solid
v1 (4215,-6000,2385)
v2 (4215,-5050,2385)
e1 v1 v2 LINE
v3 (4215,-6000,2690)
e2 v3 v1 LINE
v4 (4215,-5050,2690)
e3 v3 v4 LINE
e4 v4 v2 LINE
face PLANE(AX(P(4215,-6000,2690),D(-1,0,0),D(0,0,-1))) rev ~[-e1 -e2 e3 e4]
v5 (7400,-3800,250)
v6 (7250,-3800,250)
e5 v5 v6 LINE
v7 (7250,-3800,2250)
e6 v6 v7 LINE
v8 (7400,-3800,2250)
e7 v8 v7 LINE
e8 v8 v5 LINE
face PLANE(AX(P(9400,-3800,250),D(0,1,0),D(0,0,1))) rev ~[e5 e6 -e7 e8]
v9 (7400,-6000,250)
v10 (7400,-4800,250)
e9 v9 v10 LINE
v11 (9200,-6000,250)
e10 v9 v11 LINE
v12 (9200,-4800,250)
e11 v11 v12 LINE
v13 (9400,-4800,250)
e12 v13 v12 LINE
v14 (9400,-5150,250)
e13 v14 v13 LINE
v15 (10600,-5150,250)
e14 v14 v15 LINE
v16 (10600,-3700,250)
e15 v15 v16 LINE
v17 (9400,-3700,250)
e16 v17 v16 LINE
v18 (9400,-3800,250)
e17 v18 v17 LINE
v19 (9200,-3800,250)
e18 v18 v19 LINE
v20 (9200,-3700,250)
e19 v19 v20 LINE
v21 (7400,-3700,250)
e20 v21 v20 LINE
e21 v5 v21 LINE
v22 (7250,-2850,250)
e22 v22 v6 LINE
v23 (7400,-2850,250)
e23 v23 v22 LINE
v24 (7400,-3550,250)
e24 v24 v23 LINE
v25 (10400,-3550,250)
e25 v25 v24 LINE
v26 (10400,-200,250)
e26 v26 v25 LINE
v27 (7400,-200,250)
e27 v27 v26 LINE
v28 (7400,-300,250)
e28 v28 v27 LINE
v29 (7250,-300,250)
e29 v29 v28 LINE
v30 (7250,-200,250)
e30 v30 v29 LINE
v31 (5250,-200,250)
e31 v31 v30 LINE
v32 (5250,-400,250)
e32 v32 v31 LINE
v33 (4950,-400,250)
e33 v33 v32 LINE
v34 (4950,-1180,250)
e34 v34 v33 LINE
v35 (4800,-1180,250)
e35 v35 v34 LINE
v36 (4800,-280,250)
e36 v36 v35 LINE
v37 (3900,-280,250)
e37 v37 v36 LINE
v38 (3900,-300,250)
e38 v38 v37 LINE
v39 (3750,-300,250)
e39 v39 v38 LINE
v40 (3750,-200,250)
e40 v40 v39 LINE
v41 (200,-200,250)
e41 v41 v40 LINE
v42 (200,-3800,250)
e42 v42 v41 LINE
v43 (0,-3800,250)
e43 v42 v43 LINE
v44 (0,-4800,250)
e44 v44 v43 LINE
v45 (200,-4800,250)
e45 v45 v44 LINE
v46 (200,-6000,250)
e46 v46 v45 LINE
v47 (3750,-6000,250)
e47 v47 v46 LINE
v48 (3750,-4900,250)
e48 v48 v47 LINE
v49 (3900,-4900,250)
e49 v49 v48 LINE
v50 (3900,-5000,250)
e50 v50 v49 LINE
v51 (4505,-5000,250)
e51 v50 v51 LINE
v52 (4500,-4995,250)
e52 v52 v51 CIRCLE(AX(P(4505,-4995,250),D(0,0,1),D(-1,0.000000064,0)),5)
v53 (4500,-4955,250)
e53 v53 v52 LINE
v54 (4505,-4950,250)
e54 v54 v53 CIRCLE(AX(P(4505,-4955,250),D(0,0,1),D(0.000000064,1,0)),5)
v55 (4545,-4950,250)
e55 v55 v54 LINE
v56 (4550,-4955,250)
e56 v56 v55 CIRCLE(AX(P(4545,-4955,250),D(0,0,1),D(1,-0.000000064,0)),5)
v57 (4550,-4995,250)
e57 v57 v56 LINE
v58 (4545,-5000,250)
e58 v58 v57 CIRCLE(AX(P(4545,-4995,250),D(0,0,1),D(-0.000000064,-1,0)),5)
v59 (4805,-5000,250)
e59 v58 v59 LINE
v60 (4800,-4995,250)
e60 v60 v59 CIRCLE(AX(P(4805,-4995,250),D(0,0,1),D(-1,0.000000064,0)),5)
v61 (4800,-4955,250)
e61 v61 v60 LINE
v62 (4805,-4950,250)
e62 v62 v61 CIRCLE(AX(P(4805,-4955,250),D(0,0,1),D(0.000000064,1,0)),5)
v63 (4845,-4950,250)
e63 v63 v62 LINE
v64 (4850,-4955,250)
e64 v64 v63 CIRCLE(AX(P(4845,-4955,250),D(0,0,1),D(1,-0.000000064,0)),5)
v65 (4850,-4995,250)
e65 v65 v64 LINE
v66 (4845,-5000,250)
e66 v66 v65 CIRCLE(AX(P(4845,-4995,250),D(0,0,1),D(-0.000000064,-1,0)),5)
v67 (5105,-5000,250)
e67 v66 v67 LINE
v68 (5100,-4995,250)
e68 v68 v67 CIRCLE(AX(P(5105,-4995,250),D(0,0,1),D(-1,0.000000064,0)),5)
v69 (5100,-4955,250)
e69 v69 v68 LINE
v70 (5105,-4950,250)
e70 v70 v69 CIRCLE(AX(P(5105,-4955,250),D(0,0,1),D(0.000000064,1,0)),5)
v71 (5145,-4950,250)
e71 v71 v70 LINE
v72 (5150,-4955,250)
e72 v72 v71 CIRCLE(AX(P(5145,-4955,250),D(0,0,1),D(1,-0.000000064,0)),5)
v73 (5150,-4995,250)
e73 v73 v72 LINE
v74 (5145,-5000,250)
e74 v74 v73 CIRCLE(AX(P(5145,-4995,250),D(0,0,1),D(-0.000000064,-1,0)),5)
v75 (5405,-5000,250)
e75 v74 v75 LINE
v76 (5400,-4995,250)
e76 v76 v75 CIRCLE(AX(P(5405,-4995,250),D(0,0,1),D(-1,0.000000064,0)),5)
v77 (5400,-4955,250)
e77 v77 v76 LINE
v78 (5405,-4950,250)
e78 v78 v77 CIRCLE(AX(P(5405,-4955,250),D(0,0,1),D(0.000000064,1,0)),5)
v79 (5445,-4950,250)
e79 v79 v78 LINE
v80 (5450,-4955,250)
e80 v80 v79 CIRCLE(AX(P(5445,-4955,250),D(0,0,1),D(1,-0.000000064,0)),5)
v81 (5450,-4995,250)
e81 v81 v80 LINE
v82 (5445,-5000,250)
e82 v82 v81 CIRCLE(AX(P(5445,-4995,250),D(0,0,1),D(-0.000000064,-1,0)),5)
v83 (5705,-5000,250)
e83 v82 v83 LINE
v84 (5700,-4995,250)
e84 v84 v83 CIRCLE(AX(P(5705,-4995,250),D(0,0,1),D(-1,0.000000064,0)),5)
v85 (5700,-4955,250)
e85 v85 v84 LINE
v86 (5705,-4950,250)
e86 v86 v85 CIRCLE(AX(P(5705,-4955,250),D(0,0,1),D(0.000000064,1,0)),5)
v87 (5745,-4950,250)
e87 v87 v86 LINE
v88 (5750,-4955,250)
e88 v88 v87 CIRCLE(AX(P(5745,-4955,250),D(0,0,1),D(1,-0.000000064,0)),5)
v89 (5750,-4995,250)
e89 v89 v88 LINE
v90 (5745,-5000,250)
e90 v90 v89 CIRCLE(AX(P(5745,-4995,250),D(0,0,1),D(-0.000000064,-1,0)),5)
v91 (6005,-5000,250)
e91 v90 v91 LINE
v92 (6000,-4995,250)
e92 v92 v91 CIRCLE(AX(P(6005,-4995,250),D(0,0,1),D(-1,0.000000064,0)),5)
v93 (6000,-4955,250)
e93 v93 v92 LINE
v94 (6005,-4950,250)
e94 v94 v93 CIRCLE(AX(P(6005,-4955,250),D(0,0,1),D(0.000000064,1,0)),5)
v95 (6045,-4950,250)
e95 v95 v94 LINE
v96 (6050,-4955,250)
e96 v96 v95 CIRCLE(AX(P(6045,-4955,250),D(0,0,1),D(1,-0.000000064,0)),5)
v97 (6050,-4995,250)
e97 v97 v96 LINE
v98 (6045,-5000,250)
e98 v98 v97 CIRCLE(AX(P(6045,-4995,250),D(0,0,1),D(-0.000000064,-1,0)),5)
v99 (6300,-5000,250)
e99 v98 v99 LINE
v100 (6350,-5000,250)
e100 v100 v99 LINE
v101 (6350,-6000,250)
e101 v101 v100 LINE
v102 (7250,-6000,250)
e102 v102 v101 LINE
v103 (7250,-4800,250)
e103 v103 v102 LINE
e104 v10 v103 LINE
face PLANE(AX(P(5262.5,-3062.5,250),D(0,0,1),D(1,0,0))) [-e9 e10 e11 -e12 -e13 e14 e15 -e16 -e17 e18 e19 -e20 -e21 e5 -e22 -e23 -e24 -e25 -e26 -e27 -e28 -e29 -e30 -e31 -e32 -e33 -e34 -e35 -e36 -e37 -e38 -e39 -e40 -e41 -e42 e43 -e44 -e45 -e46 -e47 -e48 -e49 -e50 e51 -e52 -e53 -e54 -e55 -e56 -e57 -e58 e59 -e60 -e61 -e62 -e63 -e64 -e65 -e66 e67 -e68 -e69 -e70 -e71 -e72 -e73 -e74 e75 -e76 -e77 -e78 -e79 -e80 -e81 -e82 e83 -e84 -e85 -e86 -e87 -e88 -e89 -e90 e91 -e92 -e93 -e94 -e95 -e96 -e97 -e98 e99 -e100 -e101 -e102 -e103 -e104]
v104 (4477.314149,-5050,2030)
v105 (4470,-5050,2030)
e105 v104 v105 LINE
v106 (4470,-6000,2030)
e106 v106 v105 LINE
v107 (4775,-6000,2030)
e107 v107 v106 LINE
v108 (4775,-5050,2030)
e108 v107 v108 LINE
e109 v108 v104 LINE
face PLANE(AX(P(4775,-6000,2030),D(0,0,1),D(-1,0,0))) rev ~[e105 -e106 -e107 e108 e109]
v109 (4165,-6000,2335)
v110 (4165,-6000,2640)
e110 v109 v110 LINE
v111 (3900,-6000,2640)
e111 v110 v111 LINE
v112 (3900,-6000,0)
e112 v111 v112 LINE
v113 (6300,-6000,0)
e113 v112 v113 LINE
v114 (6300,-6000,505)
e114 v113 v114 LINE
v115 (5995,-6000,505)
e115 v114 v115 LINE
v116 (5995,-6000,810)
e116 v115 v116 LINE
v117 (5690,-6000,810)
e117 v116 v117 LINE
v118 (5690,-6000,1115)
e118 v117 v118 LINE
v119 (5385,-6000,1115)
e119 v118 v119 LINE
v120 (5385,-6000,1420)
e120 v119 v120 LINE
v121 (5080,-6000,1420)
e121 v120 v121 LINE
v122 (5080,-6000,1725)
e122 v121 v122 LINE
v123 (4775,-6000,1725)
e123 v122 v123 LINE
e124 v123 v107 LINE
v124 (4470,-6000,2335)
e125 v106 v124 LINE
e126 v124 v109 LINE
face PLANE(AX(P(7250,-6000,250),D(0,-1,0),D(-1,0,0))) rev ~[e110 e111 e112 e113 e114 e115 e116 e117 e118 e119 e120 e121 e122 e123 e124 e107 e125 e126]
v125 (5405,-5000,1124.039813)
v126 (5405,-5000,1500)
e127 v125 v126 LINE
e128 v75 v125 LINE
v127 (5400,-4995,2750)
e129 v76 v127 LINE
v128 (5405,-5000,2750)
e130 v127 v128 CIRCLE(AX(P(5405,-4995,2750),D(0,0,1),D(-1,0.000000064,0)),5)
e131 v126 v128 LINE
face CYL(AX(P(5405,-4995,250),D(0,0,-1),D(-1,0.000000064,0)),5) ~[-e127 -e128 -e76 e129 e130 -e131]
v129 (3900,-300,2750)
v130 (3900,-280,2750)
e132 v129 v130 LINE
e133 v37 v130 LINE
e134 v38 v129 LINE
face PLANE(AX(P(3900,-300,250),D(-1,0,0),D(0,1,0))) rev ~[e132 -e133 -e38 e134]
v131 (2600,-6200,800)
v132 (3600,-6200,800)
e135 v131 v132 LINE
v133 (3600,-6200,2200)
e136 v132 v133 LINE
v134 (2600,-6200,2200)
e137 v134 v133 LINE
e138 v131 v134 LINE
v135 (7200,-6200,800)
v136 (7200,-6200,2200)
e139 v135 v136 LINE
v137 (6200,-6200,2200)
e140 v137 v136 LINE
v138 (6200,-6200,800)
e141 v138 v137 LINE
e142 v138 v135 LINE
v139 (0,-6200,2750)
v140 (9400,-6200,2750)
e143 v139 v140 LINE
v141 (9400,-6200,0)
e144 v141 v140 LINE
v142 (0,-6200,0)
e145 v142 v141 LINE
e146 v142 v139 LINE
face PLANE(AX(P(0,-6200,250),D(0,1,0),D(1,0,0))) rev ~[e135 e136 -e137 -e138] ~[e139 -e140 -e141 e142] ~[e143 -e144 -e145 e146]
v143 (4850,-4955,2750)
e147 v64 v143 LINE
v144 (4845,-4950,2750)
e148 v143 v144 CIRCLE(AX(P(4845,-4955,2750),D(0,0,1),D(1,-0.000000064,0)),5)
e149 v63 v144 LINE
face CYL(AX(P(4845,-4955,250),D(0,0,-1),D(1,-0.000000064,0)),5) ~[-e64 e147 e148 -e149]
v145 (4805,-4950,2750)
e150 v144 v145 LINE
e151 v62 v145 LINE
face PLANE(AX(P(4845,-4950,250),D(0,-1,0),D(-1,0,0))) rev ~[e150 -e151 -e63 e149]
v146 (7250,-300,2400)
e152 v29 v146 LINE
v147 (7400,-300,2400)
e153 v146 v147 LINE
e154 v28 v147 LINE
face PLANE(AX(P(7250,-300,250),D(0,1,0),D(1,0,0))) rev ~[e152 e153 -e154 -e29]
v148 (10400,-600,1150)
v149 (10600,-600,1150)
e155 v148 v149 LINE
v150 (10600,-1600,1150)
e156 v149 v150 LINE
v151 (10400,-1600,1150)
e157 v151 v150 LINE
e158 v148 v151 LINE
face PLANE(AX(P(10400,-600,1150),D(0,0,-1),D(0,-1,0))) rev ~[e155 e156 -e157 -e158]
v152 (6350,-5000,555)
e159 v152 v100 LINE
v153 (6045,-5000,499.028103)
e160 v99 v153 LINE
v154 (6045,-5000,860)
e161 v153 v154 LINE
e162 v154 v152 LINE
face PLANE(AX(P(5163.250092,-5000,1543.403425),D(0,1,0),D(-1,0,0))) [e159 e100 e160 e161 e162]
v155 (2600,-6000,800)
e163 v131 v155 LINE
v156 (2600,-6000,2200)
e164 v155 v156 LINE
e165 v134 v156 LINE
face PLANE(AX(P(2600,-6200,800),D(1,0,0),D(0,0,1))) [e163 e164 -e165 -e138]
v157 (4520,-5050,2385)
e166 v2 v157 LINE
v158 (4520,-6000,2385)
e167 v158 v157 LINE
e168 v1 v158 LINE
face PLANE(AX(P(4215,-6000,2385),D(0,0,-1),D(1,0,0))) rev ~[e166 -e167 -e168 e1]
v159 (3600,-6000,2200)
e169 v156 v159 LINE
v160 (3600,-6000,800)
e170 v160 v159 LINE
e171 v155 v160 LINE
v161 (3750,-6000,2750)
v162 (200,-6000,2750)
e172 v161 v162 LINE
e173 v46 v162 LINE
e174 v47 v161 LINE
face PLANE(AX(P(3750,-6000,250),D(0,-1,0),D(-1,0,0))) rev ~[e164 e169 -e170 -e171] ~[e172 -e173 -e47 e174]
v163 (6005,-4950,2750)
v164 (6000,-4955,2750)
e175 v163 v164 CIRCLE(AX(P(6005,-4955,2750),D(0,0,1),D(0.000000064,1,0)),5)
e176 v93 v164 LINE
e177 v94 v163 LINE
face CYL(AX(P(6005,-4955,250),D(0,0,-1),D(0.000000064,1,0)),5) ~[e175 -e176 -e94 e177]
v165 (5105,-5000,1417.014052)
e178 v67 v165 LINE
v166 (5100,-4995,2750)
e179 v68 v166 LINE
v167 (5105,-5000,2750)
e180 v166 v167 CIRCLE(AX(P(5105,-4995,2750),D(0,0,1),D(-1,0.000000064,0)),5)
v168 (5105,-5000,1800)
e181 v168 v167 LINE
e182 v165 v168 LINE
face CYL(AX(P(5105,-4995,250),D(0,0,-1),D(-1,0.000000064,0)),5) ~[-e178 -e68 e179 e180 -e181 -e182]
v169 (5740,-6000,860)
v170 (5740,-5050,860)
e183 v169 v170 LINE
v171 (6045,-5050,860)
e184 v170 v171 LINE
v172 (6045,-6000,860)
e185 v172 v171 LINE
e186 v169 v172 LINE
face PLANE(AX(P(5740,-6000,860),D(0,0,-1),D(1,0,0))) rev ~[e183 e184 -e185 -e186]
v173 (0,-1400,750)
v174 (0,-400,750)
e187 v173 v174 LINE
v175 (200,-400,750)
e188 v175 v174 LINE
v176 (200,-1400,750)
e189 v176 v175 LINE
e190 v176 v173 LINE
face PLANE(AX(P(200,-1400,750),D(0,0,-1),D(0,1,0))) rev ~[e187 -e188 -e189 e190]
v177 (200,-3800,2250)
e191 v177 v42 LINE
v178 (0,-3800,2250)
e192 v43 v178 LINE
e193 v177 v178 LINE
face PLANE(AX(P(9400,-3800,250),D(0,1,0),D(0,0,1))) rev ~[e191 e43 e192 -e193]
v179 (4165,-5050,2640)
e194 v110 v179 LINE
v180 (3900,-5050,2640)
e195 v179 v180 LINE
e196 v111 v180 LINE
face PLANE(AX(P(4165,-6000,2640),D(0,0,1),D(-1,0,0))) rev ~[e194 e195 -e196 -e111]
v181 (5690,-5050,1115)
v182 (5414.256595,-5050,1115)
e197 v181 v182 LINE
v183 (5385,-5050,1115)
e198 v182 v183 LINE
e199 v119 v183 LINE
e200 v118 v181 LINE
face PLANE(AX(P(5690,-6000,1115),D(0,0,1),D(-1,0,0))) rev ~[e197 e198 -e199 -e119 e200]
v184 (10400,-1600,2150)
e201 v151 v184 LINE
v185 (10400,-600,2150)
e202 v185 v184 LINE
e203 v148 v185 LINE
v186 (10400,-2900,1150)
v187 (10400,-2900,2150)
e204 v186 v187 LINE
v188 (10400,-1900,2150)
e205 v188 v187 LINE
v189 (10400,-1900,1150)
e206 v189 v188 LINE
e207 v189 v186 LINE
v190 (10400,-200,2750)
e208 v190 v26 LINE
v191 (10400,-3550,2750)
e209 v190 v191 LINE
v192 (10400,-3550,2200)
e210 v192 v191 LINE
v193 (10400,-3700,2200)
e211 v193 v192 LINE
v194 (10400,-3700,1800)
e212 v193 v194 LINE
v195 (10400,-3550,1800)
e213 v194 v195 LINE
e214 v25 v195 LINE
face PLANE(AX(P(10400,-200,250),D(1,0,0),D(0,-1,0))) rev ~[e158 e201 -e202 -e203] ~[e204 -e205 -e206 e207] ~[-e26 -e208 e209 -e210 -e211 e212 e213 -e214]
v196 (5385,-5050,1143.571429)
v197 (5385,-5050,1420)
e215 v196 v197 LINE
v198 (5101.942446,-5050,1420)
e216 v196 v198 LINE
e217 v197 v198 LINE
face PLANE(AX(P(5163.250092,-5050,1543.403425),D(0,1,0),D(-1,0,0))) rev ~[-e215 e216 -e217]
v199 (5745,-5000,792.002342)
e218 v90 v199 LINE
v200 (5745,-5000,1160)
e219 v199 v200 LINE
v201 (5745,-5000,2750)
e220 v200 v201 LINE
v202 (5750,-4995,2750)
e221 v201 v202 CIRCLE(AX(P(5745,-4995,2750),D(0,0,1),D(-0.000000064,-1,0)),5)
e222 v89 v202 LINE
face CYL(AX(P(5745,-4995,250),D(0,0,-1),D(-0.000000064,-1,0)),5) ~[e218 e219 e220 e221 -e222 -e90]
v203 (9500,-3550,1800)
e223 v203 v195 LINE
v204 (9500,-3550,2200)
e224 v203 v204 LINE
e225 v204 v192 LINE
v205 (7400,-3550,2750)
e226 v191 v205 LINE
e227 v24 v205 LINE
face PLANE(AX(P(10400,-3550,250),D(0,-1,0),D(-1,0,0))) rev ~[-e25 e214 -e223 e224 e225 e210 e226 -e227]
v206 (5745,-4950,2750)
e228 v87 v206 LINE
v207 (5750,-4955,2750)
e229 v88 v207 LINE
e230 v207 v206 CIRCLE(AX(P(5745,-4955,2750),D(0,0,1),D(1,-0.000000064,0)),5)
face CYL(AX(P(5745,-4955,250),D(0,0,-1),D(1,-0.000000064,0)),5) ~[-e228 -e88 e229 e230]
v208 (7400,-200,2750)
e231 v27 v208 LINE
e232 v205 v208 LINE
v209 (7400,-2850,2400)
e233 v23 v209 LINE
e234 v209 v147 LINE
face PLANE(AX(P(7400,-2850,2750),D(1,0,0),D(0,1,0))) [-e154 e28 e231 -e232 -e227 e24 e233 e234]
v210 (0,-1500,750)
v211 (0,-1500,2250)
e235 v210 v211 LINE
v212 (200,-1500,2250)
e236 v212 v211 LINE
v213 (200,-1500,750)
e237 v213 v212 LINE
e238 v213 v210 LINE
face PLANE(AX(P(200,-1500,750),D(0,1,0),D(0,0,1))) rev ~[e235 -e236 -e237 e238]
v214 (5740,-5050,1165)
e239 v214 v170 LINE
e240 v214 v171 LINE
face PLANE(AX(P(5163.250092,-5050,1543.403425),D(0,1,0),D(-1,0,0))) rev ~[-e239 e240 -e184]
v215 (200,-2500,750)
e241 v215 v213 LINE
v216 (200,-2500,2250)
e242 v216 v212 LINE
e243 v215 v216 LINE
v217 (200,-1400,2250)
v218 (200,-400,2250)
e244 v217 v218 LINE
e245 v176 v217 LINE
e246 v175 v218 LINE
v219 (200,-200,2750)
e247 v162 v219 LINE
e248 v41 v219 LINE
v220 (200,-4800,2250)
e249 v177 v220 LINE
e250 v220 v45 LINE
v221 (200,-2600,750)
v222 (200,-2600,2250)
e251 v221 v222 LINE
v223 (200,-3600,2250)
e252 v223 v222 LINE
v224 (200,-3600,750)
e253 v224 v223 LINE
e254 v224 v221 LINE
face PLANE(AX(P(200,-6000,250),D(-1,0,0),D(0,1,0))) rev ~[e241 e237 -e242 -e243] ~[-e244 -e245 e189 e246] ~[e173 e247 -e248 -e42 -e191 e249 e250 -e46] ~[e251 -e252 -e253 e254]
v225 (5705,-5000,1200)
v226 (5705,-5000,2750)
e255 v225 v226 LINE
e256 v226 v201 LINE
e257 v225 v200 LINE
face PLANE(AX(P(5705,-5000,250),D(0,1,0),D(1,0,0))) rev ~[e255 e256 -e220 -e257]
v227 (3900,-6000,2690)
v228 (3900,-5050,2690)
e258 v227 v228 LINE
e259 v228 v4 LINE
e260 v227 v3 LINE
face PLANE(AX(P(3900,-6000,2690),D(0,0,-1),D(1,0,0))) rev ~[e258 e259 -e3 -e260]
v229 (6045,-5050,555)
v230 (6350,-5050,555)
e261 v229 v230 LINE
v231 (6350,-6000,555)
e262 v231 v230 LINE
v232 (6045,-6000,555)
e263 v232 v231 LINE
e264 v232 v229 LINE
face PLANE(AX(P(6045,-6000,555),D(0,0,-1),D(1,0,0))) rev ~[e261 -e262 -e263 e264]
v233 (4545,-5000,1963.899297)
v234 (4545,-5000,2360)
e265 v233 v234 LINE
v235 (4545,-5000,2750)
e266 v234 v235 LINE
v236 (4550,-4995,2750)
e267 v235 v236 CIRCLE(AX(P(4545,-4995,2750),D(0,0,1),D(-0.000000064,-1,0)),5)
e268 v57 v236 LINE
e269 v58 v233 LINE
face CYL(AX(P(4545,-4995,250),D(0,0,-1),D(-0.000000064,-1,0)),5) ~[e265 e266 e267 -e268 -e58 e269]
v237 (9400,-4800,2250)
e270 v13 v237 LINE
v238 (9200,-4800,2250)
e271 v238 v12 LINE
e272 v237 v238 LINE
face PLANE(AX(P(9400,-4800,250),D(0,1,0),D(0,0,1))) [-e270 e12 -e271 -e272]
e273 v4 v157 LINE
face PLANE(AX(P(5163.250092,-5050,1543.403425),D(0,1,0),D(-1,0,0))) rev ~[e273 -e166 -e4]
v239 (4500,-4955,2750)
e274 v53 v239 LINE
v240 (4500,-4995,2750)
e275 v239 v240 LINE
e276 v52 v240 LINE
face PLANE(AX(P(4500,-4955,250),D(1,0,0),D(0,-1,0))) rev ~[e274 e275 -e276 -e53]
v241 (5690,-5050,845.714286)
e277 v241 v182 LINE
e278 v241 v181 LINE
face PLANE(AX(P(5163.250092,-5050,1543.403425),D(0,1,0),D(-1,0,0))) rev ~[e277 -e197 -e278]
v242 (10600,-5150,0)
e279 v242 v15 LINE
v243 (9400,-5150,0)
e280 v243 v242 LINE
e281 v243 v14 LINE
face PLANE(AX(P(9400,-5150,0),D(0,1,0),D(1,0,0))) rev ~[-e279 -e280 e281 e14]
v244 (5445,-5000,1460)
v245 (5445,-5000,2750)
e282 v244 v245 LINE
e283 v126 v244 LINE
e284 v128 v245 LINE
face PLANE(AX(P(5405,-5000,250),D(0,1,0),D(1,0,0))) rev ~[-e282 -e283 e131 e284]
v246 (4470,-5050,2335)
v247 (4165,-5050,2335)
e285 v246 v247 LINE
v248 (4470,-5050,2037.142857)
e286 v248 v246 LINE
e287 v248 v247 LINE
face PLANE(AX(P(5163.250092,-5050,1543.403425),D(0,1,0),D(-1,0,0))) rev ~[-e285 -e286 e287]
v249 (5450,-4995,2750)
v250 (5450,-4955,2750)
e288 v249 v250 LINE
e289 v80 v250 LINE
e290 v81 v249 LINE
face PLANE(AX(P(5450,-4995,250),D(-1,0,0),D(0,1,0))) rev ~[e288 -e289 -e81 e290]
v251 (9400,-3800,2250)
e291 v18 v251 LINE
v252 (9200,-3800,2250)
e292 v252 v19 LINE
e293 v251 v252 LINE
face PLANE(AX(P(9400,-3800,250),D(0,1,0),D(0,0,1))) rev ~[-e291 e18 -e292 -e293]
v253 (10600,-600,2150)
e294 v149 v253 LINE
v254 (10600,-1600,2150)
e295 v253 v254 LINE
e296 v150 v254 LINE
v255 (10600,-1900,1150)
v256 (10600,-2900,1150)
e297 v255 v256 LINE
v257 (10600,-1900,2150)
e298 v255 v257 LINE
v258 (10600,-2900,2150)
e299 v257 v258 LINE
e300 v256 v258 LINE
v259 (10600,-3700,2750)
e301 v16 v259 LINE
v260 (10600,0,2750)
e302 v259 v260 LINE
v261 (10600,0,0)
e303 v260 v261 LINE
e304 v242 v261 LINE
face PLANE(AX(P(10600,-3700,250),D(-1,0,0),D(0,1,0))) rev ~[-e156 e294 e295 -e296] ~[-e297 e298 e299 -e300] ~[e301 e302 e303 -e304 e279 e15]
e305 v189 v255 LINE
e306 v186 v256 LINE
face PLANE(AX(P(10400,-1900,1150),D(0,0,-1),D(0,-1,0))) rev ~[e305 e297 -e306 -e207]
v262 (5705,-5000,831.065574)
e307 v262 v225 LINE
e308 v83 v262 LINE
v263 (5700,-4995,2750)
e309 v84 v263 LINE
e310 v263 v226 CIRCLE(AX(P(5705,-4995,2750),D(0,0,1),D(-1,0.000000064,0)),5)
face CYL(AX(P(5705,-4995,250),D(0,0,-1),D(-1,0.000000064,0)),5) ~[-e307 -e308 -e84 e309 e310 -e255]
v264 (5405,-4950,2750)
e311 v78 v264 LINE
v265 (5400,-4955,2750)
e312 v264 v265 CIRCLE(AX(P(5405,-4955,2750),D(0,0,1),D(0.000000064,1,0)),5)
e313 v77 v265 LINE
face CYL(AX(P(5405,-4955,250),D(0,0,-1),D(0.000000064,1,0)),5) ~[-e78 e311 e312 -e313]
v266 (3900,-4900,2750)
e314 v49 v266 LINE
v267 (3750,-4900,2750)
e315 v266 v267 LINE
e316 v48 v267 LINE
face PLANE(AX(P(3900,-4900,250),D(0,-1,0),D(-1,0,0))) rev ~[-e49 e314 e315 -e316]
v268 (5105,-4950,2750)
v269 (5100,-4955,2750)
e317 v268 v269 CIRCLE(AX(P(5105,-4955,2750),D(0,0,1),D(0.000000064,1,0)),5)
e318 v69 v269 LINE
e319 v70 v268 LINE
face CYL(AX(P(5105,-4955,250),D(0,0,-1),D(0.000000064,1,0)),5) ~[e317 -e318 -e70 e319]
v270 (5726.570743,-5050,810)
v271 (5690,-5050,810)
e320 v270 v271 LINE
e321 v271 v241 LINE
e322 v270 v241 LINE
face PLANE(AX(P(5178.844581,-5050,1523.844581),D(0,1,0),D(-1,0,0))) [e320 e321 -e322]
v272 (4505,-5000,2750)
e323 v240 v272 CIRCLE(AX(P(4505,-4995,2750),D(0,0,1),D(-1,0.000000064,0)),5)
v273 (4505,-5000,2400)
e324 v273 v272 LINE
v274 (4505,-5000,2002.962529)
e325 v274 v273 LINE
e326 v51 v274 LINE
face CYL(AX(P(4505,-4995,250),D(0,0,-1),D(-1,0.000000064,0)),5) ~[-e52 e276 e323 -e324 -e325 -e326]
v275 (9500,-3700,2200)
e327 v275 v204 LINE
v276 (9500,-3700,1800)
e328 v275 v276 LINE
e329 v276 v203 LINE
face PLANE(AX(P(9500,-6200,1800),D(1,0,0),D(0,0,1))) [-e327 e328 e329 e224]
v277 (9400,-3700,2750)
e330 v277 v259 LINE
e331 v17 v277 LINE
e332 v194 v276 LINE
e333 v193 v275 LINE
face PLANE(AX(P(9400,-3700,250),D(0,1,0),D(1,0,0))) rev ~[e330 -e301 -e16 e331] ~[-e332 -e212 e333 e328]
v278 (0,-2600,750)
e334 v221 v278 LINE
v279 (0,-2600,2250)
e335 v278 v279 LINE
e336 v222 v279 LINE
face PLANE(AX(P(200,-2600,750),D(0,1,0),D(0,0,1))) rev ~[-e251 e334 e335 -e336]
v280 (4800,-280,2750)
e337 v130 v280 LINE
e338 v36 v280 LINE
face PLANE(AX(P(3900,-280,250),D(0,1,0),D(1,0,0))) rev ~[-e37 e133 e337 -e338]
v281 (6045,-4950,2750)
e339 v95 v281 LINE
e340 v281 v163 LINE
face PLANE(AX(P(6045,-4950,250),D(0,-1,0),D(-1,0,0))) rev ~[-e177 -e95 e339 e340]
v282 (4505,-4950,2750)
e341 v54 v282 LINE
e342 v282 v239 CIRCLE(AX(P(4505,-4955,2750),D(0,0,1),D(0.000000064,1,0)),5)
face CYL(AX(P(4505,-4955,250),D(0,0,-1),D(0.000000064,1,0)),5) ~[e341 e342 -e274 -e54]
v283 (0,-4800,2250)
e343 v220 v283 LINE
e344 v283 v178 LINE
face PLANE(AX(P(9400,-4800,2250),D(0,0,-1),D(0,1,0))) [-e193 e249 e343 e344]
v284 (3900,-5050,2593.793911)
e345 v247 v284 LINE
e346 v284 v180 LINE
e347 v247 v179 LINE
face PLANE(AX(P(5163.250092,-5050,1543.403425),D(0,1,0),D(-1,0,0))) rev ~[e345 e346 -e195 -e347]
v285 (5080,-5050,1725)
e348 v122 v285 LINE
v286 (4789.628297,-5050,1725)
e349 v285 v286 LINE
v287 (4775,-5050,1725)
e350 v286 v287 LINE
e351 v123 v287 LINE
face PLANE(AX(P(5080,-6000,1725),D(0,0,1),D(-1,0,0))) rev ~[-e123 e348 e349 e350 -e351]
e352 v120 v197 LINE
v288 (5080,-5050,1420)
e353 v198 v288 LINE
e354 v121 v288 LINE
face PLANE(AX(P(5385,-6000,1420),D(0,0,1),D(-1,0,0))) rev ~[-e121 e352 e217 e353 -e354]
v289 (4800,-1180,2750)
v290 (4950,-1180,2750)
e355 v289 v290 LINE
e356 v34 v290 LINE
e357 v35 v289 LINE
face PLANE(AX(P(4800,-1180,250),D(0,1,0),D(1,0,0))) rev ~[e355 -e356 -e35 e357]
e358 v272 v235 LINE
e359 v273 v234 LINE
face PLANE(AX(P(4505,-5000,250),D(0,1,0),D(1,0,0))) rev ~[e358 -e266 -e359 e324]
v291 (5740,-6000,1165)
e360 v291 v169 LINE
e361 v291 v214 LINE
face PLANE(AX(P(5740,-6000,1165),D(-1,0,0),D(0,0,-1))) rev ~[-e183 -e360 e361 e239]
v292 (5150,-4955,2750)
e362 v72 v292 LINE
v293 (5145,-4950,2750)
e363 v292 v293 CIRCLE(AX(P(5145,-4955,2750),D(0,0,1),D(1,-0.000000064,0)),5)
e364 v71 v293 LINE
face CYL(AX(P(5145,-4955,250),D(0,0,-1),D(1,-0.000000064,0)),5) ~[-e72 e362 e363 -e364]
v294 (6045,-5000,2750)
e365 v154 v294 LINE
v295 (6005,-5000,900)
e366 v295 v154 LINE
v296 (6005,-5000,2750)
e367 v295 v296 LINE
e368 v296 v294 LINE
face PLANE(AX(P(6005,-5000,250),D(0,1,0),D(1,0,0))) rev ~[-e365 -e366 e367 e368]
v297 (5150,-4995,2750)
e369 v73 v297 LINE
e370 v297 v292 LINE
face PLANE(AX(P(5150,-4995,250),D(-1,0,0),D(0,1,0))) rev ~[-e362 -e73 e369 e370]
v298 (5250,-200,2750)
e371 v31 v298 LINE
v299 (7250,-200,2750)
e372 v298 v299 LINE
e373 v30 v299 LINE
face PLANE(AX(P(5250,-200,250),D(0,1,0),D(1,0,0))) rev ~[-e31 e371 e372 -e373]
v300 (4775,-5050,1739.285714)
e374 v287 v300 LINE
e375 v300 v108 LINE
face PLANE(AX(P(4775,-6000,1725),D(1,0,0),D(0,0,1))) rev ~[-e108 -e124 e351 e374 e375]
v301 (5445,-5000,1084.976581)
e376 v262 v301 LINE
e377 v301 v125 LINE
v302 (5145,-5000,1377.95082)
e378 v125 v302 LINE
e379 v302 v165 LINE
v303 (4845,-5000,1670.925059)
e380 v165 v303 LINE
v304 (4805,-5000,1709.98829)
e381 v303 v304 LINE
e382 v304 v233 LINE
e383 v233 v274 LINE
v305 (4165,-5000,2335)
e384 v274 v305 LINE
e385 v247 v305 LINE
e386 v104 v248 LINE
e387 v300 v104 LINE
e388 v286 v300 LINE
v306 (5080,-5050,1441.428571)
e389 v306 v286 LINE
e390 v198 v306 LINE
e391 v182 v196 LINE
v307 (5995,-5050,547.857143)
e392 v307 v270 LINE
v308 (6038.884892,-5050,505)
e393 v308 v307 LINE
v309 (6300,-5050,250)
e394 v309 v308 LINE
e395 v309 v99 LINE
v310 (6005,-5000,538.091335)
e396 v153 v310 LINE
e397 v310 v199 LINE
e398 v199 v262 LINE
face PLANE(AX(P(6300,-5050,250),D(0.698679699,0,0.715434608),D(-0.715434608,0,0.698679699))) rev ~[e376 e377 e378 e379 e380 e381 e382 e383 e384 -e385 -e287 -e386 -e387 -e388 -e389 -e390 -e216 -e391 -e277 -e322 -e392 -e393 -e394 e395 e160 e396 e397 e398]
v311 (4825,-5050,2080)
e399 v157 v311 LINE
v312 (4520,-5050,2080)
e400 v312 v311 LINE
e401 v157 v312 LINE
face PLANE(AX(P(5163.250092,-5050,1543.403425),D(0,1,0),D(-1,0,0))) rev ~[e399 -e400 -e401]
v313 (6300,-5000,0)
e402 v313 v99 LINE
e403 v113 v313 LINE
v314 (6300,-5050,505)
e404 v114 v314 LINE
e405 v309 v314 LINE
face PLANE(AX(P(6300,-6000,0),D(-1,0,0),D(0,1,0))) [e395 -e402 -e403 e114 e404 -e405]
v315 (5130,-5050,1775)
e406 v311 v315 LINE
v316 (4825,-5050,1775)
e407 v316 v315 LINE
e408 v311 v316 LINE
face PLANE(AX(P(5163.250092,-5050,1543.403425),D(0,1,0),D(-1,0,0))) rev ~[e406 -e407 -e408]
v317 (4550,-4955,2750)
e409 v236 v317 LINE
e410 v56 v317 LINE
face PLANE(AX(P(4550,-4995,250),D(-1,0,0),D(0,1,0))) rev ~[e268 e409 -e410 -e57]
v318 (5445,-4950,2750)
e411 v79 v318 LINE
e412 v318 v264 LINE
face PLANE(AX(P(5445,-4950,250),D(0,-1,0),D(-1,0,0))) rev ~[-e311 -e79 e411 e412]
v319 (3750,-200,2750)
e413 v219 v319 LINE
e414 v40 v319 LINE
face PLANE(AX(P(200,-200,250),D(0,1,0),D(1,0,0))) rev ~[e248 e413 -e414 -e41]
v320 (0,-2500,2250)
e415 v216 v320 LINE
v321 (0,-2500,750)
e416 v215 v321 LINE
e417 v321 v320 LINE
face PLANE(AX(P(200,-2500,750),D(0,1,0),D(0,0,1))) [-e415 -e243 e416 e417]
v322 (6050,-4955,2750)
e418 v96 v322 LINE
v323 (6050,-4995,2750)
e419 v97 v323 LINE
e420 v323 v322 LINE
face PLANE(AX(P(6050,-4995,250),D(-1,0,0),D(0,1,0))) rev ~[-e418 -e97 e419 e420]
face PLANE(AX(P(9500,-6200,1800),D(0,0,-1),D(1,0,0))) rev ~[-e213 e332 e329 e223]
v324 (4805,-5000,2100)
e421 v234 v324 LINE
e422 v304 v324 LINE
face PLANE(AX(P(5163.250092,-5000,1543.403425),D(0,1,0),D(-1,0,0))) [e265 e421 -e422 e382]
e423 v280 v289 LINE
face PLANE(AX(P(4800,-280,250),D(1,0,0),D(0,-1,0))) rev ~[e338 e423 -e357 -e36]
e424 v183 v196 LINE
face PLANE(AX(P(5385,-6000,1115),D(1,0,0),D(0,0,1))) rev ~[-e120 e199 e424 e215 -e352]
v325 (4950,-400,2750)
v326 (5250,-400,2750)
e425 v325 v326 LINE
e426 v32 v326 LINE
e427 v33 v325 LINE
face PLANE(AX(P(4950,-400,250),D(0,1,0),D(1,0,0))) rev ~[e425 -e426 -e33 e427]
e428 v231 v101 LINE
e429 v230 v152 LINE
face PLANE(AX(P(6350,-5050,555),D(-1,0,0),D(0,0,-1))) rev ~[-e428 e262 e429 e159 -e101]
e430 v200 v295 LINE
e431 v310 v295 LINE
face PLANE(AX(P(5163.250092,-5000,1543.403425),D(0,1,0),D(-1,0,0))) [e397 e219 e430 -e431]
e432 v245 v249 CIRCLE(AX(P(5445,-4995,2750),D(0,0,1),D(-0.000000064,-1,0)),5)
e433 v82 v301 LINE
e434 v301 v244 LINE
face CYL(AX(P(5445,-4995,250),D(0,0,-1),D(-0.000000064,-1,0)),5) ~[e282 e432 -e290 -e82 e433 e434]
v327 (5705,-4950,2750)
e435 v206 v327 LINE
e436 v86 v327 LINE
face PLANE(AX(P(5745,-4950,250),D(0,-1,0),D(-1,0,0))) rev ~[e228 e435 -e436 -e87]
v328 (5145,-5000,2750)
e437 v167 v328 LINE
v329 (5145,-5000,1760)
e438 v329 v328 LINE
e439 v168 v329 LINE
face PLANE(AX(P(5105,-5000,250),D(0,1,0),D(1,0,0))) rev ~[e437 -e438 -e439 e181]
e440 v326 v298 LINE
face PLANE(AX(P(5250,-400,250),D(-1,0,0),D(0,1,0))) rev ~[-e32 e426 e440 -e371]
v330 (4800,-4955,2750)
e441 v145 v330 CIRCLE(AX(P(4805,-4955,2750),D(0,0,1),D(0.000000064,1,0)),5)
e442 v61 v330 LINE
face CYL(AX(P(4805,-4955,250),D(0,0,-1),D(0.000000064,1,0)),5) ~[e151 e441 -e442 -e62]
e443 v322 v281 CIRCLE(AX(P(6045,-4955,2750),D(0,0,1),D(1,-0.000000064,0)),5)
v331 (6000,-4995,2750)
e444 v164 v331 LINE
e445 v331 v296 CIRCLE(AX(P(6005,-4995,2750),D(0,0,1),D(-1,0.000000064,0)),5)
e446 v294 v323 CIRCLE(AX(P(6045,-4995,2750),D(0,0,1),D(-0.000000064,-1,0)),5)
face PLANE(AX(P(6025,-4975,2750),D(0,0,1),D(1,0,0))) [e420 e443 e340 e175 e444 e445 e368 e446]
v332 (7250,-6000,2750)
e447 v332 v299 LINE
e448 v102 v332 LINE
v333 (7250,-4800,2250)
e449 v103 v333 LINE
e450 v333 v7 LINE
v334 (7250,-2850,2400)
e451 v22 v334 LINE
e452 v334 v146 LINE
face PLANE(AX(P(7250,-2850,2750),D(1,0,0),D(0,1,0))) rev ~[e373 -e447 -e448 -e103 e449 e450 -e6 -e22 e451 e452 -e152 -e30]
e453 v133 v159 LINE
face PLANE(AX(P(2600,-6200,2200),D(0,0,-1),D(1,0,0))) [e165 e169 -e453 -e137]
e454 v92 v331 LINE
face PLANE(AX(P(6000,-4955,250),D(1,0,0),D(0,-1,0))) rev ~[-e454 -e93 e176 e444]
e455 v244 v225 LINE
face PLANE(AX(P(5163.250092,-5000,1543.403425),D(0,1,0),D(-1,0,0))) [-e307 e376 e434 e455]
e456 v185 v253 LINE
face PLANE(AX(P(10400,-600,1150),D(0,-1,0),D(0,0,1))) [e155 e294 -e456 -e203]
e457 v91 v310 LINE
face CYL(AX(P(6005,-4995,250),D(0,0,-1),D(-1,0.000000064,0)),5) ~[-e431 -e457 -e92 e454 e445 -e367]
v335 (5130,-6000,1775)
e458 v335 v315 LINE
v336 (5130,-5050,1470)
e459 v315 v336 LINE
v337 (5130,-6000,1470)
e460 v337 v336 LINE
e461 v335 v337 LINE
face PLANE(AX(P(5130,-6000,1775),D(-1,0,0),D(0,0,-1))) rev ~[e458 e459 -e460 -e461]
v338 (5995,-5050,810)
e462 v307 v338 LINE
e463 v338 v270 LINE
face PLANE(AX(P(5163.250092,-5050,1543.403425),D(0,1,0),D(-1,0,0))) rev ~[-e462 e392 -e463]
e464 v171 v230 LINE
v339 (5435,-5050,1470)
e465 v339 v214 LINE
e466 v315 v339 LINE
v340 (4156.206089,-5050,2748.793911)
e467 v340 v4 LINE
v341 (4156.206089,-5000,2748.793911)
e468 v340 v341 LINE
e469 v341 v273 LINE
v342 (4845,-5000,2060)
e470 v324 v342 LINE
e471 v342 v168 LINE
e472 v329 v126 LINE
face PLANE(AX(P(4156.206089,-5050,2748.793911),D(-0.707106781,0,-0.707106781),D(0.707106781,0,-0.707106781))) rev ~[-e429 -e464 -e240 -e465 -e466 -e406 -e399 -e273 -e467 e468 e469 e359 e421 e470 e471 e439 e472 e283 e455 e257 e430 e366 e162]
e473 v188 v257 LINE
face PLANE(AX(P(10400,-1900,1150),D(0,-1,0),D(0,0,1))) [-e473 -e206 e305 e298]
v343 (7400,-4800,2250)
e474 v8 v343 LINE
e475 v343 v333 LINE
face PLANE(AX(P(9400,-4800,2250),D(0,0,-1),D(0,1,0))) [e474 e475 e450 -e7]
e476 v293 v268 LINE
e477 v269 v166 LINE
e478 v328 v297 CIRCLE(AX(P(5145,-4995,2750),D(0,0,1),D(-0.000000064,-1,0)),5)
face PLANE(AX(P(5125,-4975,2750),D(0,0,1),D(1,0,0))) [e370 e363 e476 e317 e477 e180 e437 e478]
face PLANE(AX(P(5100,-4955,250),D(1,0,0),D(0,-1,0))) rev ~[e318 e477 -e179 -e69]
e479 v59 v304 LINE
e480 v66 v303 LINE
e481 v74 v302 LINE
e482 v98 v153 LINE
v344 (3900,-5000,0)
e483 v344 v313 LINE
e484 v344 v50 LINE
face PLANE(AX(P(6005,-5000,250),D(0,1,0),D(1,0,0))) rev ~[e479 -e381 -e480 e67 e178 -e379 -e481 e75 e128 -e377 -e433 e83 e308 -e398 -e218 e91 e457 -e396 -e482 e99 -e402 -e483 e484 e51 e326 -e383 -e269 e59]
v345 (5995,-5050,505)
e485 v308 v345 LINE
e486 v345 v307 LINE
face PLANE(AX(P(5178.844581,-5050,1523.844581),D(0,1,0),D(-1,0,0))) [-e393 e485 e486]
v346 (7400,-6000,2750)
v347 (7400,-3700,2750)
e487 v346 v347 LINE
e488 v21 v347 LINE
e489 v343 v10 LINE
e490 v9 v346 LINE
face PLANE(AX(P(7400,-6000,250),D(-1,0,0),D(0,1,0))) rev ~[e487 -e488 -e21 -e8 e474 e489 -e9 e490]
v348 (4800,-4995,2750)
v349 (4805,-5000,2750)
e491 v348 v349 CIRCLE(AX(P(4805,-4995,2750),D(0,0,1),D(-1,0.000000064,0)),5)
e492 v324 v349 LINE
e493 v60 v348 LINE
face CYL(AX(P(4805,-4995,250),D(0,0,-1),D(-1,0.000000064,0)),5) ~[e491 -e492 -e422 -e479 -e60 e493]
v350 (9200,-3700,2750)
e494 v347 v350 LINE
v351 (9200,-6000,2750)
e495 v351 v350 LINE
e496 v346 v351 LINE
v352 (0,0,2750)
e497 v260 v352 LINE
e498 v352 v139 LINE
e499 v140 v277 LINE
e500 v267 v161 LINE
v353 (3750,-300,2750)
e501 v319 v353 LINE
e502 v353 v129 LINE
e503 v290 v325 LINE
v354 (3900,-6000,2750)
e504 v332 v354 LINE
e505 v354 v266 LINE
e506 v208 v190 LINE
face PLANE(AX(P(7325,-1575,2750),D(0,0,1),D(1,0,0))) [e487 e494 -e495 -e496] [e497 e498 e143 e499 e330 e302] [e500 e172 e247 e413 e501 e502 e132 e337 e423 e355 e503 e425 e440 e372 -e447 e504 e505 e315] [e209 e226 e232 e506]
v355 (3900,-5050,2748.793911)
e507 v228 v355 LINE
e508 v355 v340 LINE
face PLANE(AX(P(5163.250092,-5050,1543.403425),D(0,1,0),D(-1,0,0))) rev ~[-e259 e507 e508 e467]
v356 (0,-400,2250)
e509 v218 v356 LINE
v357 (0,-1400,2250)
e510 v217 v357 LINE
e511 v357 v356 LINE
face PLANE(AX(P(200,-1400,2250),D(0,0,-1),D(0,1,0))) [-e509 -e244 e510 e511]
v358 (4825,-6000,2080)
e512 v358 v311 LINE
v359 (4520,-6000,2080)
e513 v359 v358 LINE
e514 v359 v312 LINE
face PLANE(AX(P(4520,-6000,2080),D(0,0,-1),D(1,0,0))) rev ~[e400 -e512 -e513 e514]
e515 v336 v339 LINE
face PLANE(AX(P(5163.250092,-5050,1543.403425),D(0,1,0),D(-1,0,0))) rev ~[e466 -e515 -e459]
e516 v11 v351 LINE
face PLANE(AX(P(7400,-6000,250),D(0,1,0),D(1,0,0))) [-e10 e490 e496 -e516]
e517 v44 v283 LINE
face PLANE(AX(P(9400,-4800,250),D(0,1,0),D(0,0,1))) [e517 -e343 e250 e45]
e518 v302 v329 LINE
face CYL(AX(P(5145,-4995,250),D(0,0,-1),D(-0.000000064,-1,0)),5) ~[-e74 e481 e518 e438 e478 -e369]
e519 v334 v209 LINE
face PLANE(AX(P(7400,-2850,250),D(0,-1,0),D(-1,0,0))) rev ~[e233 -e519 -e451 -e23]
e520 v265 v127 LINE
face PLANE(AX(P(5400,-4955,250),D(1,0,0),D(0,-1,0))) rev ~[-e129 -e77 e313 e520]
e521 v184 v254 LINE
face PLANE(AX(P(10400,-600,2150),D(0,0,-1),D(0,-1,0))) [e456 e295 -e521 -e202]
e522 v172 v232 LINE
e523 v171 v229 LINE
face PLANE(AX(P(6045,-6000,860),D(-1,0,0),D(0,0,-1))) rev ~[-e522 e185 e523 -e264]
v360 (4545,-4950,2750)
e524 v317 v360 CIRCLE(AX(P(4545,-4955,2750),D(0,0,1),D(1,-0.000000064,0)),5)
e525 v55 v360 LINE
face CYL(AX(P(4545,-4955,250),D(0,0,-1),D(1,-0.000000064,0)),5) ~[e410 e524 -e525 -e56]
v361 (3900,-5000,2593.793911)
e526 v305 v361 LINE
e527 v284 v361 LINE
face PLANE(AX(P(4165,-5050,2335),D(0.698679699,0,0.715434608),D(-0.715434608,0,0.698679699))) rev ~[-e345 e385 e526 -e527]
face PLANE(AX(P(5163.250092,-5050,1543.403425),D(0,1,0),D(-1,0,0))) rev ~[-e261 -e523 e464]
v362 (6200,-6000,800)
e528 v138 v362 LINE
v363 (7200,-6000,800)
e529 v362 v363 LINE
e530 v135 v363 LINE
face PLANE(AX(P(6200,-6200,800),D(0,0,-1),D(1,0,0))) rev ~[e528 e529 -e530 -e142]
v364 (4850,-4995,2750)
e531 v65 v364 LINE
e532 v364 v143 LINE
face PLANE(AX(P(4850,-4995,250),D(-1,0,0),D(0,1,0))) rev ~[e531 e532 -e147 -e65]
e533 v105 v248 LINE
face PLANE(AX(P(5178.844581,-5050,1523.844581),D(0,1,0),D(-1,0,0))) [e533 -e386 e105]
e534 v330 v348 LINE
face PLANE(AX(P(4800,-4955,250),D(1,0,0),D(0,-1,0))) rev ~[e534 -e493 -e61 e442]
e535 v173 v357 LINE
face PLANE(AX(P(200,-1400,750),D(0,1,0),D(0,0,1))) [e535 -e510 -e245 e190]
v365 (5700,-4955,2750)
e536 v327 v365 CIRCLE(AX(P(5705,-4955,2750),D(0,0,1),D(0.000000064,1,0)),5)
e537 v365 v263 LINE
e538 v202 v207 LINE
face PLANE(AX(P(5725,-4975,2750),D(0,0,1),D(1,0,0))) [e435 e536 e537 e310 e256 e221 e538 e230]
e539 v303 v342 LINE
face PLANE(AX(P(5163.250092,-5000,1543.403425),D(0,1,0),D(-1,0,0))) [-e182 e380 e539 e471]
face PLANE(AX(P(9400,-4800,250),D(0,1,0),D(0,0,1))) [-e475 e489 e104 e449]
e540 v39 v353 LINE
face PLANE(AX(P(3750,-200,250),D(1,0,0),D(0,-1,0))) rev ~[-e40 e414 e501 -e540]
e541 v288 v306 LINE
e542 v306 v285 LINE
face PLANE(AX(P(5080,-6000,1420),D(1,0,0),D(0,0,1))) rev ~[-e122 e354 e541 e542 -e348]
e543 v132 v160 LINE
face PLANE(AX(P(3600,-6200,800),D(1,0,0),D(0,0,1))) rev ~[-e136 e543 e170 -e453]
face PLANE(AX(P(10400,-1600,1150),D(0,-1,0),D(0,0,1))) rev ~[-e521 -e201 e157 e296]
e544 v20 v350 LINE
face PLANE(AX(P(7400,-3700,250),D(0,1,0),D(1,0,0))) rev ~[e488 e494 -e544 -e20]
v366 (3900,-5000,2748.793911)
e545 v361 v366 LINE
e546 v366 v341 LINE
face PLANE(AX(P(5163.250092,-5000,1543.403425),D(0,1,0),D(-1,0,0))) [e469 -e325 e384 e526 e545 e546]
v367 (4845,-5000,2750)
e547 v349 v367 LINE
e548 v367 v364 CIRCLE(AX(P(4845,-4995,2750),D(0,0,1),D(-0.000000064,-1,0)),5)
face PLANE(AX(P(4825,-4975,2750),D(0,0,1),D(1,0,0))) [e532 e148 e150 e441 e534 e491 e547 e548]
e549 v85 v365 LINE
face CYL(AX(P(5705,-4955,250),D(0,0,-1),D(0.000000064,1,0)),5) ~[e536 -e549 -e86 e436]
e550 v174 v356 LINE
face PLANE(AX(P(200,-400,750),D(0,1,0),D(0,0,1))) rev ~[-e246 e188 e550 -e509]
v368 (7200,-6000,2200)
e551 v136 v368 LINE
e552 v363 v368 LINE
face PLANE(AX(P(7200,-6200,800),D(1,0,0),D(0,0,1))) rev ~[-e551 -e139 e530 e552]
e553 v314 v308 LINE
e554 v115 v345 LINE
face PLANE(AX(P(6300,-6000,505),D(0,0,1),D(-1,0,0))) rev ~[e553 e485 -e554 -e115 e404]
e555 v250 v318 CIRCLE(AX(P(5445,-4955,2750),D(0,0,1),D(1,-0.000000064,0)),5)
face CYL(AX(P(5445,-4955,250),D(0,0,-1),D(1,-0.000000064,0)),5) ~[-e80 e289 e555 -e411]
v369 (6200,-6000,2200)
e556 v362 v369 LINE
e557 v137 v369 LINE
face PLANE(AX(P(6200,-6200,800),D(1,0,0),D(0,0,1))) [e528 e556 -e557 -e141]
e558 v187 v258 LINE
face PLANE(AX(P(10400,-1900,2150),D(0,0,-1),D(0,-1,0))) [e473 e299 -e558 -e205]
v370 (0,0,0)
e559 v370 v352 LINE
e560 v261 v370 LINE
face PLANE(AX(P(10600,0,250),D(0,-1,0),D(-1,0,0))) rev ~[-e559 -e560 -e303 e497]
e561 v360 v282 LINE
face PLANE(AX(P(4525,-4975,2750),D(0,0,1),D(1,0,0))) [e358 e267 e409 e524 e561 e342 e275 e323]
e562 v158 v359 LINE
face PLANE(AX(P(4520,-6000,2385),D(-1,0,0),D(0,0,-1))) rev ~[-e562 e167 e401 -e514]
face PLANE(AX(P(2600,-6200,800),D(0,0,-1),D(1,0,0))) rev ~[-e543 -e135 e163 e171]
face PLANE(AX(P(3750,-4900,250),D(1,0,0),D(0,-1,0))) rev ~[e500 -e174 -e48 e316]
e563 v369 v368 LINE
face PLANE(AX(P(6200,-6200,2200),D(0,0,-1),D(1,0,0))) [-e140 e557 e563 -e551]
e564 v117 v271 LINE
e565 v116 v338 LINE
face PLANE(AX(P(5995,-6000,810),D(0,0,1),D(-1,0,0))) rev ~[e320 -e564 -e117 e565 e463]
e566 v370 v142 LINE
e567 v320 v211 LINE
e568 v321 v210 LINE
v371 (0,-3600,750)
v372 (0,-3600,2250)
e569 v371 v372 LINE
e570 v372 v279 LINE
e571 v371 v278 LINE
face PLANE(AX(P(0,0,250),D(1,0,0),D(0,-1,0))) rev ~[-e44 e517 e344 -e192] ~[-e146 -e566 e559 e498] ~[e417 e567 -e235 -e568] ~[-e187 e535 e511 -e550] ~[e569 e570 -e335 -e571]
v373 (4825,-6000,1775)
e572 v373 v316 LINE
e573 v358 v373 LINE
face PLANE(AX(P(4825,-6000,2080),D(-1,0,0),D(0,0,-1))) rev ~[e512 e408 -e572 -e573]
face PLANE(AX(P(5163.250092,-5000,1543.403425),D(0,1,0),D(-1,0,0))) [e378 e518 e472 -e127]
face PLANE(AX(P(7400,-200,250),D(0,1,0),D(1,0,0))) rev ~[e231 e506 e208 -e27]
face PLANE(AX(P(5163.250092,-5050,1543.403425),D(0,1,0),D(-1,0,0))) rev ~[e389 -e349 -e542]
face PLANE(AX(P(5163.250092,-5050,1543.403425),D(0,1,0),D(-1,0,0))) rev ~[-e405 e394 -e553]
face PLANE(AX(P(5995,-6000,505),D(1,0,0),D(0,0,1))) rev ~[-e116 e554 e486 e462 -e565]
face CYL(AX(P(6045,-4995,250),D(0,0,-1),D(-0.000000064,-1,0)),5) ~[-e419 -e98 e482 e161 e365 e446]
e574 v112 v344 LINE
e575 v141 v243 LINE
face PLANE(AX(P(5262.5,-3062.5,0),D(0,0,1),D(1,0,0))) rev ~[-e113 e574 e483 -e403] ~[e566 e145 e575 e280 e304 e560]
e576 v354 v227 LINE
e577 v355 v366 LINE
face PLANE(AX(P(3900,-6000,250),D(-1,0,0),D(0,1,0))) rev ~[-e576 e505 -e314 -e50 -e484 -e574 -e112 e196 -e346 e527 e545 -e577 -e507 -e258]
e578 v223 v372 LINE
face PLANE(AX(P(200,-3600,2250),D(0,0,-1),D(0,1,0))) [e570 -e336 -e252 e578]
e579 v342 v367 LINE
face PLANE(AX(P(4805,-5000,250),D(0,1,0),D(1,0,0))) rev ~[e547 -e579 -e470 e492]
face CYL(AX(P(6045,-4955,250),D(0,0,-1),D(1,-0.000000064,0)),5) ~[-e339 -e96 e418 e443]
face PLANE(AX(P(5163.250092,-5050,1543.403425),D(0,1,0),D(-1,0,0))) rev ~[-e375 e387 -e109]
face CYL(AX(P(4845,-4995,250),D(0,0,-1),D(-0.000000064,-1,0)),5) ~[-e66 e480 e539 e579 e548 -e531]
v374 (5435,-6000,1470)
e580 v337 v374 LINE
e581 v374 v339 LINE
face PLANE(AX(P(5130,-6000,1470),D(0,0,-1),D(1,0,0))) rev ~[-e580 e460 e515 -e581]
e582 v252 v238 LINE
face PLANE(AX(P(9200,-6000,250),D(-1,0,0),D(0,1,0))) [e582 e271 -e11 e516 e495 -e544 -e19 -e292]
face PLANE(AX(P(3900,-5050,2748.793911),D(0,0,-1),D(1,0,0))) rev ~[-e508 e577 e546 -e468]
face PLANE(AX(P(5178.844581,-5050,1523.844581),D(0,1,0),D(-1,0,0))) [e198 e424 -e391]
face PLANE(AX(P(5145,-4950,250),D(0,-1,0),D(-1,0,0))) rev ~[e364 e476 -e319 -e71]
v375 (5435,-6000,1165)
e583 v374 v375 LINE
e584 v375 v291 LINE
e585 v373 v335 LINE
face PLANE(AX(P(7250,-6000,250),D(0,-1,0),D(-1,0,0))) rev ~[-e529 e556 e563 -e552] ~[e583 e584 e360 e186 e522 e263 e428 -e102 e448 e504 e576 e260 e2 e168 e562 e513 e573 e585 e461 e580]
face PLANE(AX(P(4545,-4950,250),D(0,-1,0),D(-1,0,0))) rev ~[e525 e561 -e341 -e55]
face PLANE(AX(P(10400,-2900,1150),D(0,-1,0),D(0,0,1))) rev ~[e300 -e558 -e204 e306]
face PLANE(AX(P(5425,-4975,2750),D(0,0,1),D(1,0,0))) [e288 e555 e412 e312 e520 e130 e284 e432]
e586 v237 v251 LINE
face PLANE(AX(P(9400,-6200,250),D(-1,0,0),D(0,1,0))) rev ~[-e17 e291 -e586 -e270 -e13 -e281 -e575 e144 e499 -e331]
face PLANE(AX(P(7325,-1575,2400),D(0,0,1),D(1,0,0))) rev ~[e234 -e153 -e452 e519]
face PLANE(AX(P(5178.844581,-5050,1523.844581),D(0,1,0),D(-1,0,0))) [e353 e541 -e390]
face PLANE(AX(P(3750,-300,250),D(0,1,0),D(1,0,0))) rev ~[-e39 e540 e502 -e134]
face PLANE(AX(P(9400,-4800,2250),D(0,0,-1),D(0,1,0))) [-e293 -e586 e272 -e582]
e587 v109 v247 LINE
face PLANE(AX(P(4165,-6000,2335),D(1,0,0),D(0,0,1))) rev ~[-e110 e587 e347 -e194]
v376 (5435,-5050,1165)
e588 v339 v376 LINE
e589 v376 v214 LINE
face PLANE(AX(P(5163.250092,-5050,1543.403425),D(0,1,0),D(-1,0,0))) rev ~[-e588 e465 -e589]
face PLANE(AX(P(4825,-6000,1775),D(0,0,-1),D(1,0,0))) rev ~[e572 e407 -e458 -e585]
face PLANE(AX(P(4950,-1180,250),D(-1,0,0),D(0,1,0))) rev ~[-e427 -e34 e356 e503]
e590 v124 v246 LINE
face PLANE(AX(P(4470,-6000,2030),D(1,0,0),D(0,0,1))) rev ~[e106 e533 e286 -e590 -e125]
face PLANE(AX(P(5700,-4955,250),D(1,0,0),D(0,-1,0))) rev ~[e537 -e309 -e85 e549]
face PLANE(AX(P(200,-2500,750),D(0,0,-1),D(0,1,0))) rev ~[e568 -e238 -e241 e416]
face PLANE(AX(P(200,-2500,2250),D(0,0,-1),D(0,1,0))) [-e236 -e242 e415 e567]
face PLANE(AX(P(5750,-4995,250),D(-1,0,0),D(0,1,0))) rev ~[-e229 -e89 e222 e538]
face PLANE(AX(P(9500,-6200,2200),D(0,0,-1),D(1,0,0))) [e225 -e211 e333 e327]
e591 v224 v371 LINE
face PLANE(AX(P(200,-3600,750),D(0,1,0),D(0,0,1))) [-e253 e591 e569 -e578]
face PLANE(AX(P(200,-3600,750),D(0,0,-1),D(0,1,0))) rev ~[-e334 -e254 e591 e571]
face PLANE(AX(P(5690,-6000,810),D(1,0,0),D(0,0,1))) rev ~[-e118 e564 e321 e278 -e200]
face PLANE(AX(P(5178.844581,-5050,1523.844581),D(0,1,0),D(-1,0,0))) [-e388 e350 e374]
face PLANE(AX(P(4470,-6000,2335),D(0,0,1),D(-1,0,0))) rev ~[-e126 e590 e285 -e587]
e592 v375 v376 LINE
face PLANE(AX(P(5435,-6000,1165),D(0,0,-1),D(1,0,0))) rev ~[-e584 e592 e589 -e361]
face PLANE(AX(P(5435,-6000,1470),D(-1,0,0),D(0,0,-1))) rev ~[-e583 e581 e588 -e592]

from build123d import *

# Parameters (mm, degrees)
F0_W      = 2400
F0_H      = 1000
F1_DEPTH  = 250
F2_W      = 1800
F2_H      = 2300
F3_DEPTH  = 2500
F4_W      = 1000
F4_H      = 2000
F5_DEPTH  = 9400.001
F6_W      = 1000
F6_H      = 1400
F6_W_2    = 900
F6_H_2    = 400
F7_DEPTH  = 6000
F8_W      = 1000
F8_H      = 1000
F9_DEPTH  = 200
F10_W     = 1000
F10_H     = 1500
F11_DEPTH = 200
F12_W     = 150
F12_H     = 2550
F13_DEPTH = 350
F15_DEPTH = 950
F17_DEPTH = 50
F19_DEPTH = 2500


with BuildPart() as f1:
    # F0 (on Top) → F1 (new body)
    with BuildSketch(Plane.XY):
        Polygon((10600, 0), (0, 0), (0, -6200), (9400, -6200), (9400, -5150), (10600, -5150), align=None)
        with Locations((5100, -5500)):
            Rectangle(F0_W, F0_H, mode=Mode.SUBTRACT)
    extrude(amount=F1_DEPTH)

    # F2 (on face) → F3 (join)
    with BuildSketch(Plane.XY.offset(250)):
        Polygon((10600, 0), (0, 0), (0, -6200), (9400, -6200), (9400, -3700), (10600, -3700), align=None)
        with Locations((8300, -4850)):
            Rectangle(F2_W, F2_H, mode=Mode.SUBTRACT)
        Polygon((200, -6000), (200, -200), (3750, -200), (3750, -300), (3900, -300), (3900, -280), (4800, -280), (4800, -1180), (4950, -1180), (4950, -400), (5250, -400), (5250, -200), (7250, -200), (7250, -300), (7400, -300), (7400, -200), (10400, -200), (10400, -3550), (7400, -3550), (7400, -2850), (7250, -2850), (7250, -6000), (3900, -6000), (3900, -4900), (3750, -4900), (3750, -6000), align=None, mode=Mode.SUBTRACT)
    extrude(amount=F3_DEPTH)

    # F4 (on face) → F5 (cut, through all)
    with BuildSketch(Plane.YZ.offset(9400)):
        with Locations((-4300, 1250)):
            Rectangle(F4_W, F4_H)
    extrude(amount=-F5_DEPTH, mode=Mode.SUBTRACT)

    # F6 (on face) → F7 (cut, through all)
    with BuildSketch(Plane.XZ.offset(6200)):
        with Locations((6700, 1500)):
            Rectangle(F6_W, F6_H)
        with Locations((3100, 1500)):
            Rectangle(F6_W, F6_H)
        with Locations((9950, 2000)):
            Rectangle(F6_W_2, F6_H_2)
    extrude(amount=-F7_DEPTH, mode=Mode.SUBTRACT)

    # F8 (on face) → F9 (cut, through all)
    with BuildSketch(Plane(origin=(10400, 0, 0), x_dir=(0, -1, 0), z_dir=(-1, 0, 0))):
        with Locations((1100, 1650)):
            Rectangle(F8_W, F8_H)
        with Locations((2400, 1650)):
            Rectangle(F8_W, F8_H)
    extrude(amount=-F9_DEPTH, mode=Mode.SUBTRACT)

    # F10 (on face) → F11 (cut, through all)
    with BuildSketch(Plane.YZ.offset(200)):
        with Locations((-3100, 1500)):
            Rectangle(F10_W, F10_H)
        with Locations((-2000, 1500)):
            Rectangle(F10_W, F10_H)
        with Locations((-900, 1500)):
            Rectangle(F10_W, F10_H)
    extrude(amount=-F11_DEPTH, mode=Mode.SUBTRACT)

    # F12 (on face) → F13 (join)
    with BuildSketch(Plane.XY.offset(2750)):
        with Locations((7325, -1575)):
            Rectangle(F12_W, F12_H)
    extrude(amount=-F13_DEPTH)

    # F14 (on face) → F15 (join)
    with BuildSketch(Plane(origin=(0, -6000, 0), x_dir=(-1, 0, 0), z_dir=(0, 1, 0))):
        Polygon((-6350, 555), (-6350, 250), (-6300, 250), (-6300, 505), (-5995, 505), (-5995, 810), (-5690, 810), (-5690, 1115), (-5385, 1115), (-5385, 1420), (-5080, 1420), (-5080, 1725), (-4775, 1725), (-4775, 2030), (-4470, 2030), (-4470, 2335), (-4165, 2335), (-4165, 2640), (-3900, 2640), (-3900, 2690), (-4215, 2690), (-4215, 2385), (-4520, 2385), (-4520, 2080), (-4825, 2080), (-4825, 1775), (-5130, 1775), (-5130, 1470), (-5435, 1470), (-5435, 1165), (-5740, 1165), (-5740, 860), (-6045, 860), (-6045, 555), align=None)
    extrude(amount=F15_DEPTH)

    # F16 (on face) → F17 (join)
    with BuildSketch(Plane(origin=(0, -5050, 0), x_dir=(-1, 0, 0), z_dir=(0, 1, 0))):
        Polygon((-4156.206089, 2748.793911), (-6350, 555), (-6350, 250), (-6300, 250), (-4165, 2335), (-3900, 2593.793911), (-3900, 2748.793911), align=None)
    extrude(amount=F17_DEPTH)

    # F18 (on face) → F19 (join)
    with BuildSketch(Plane.XY.offset(250)):
        with BuildLine():
            Line((6005, -5000), (6045, -5000))
            ThreePointArc((6045, -5000), (6048.535534, -4998.535534), (6050, -4995))
            Line((6050, -4995), (6050, -4955))
            ThreePointArc((6050, -4955), (6048.535534, -4951.464466), (6045, -4950))
            Line((6045, -4950), (6005, -4950))
            ThreePointArc((6005, -4950), (6001.464466, -4951.464466), (6000, -4955))
            Line((6000, -4955), (6000, -4995))
            ThreePointArc((6000, -4995), (6001.464466, -4998.535534), (6005, -5000))
        make_face()
        with BuildLine():
            Line((5705, -5000), (5745, -5000))
            ThreePointArc((5745, -5000), (5748.535534, -4998.535534), (5750, -4995))
            Line((5750, -4995), (5750, -4955))
            ThreePointArc((5750, -4955), (5748.535534, -4951.464466), (5745, -4950))
            Line((5745, -4950), (5705, -4950))
            ThreePointArc((5705, -4950), (5701.464466, -4951.464466), (5700, -4955))
            Line((5700, -4955), (5700, -4995))
            ThreePointArc((5700, -4995), (5701.464466, -4998.535534), (5705, -5000))
        make_face()
        with BuildLine():
            Line((5405, -5000), (5445, -5000))
            ThreePointArc((5445, -5000), (5448.535534, -4998.535534), (5450, -4995))
            Line((5450, -4995), (5450, -4955))
            ThreePointArc((5450, -4955), (5448.535534, -4951.464466), (5445, -4950))
            Line((5445, -4950), (5405, -4950))
            ThreePointArc((5405, -4950), (5401.464466, -4951.464466), (5400, -4955))
            Line((5400, -4955), (5400, -4995))
            ThreePointArc((5400, -4995), (5401.464466, -4998.535534), (5405, -5000))
        make_face()
        with BuildLine():
            Line((5105, -5000), (5145, -5000))
            ThreePointArc((5145, -5000), (5148.535534, -4998.535534), (5150, -4995))
            Line((5150, -4995), (5150, -4955))
            ThreePointArc((5150, -4955), (5148.535534, -4951.464466), (5145, -4950))
            Line((5145, -4950), (5105, -4950))
            ThreePointArc((5105, -4950), (5101.464466, -4951.464466), (5100, -4955))
            Line((5100, -4955), (5100, -4995))
            ThreePointArc((5100, -4995), (5101.464466, -4998.535534), (5105, -5000))
        make_face()
        with BuildLine():
            Line((4805, -5000), (4845, -5000))
            ThreePointArc((4845, -5000), (4848.535534, -4998.535534), (4850, -4995))
            Line((4850, -4995), (4850, -4955))
            ThreePointArc((4850, -4955), (4848.535534, -4951.464466), (4845, -4950))
            Line((4845, -4950), (4805, -4950))
            ThreePointArc((4805, -4950), (4801.464466, -4951.464466), (4800, -4955))
            Line((4800, -4955), (4800, -4995))
            ThreePointArc((4800, -4995), (4801.464466, -4998.535534), (4805, -5000))
        make_face()
        with BuildLine():
            Line((4505, -5000), (4545, -5000))
            ThreePointArc((4545, -5000), (4548.535534, -4998.535534), (4550, -4995))
            Line((4550, -4995), (4550, -4955))
            ThreePointArc((4550, -4955), (4548.535534, -4951.464466), (4545, -4950))
            Line((4545, -4950), (4505, -4950))
            ThreePointArc((4505, -4950), (4501.464466, -4951.464466), (4500, -4955))
            Line((4500, -4955), (4500, -4995))
            ThreePointArc((4500, -4995), (4501.464466, -4998.535534), (4505, -5000))
        make_face()
    extrude(amount=F19_DEPTH)


solid = f1.part
